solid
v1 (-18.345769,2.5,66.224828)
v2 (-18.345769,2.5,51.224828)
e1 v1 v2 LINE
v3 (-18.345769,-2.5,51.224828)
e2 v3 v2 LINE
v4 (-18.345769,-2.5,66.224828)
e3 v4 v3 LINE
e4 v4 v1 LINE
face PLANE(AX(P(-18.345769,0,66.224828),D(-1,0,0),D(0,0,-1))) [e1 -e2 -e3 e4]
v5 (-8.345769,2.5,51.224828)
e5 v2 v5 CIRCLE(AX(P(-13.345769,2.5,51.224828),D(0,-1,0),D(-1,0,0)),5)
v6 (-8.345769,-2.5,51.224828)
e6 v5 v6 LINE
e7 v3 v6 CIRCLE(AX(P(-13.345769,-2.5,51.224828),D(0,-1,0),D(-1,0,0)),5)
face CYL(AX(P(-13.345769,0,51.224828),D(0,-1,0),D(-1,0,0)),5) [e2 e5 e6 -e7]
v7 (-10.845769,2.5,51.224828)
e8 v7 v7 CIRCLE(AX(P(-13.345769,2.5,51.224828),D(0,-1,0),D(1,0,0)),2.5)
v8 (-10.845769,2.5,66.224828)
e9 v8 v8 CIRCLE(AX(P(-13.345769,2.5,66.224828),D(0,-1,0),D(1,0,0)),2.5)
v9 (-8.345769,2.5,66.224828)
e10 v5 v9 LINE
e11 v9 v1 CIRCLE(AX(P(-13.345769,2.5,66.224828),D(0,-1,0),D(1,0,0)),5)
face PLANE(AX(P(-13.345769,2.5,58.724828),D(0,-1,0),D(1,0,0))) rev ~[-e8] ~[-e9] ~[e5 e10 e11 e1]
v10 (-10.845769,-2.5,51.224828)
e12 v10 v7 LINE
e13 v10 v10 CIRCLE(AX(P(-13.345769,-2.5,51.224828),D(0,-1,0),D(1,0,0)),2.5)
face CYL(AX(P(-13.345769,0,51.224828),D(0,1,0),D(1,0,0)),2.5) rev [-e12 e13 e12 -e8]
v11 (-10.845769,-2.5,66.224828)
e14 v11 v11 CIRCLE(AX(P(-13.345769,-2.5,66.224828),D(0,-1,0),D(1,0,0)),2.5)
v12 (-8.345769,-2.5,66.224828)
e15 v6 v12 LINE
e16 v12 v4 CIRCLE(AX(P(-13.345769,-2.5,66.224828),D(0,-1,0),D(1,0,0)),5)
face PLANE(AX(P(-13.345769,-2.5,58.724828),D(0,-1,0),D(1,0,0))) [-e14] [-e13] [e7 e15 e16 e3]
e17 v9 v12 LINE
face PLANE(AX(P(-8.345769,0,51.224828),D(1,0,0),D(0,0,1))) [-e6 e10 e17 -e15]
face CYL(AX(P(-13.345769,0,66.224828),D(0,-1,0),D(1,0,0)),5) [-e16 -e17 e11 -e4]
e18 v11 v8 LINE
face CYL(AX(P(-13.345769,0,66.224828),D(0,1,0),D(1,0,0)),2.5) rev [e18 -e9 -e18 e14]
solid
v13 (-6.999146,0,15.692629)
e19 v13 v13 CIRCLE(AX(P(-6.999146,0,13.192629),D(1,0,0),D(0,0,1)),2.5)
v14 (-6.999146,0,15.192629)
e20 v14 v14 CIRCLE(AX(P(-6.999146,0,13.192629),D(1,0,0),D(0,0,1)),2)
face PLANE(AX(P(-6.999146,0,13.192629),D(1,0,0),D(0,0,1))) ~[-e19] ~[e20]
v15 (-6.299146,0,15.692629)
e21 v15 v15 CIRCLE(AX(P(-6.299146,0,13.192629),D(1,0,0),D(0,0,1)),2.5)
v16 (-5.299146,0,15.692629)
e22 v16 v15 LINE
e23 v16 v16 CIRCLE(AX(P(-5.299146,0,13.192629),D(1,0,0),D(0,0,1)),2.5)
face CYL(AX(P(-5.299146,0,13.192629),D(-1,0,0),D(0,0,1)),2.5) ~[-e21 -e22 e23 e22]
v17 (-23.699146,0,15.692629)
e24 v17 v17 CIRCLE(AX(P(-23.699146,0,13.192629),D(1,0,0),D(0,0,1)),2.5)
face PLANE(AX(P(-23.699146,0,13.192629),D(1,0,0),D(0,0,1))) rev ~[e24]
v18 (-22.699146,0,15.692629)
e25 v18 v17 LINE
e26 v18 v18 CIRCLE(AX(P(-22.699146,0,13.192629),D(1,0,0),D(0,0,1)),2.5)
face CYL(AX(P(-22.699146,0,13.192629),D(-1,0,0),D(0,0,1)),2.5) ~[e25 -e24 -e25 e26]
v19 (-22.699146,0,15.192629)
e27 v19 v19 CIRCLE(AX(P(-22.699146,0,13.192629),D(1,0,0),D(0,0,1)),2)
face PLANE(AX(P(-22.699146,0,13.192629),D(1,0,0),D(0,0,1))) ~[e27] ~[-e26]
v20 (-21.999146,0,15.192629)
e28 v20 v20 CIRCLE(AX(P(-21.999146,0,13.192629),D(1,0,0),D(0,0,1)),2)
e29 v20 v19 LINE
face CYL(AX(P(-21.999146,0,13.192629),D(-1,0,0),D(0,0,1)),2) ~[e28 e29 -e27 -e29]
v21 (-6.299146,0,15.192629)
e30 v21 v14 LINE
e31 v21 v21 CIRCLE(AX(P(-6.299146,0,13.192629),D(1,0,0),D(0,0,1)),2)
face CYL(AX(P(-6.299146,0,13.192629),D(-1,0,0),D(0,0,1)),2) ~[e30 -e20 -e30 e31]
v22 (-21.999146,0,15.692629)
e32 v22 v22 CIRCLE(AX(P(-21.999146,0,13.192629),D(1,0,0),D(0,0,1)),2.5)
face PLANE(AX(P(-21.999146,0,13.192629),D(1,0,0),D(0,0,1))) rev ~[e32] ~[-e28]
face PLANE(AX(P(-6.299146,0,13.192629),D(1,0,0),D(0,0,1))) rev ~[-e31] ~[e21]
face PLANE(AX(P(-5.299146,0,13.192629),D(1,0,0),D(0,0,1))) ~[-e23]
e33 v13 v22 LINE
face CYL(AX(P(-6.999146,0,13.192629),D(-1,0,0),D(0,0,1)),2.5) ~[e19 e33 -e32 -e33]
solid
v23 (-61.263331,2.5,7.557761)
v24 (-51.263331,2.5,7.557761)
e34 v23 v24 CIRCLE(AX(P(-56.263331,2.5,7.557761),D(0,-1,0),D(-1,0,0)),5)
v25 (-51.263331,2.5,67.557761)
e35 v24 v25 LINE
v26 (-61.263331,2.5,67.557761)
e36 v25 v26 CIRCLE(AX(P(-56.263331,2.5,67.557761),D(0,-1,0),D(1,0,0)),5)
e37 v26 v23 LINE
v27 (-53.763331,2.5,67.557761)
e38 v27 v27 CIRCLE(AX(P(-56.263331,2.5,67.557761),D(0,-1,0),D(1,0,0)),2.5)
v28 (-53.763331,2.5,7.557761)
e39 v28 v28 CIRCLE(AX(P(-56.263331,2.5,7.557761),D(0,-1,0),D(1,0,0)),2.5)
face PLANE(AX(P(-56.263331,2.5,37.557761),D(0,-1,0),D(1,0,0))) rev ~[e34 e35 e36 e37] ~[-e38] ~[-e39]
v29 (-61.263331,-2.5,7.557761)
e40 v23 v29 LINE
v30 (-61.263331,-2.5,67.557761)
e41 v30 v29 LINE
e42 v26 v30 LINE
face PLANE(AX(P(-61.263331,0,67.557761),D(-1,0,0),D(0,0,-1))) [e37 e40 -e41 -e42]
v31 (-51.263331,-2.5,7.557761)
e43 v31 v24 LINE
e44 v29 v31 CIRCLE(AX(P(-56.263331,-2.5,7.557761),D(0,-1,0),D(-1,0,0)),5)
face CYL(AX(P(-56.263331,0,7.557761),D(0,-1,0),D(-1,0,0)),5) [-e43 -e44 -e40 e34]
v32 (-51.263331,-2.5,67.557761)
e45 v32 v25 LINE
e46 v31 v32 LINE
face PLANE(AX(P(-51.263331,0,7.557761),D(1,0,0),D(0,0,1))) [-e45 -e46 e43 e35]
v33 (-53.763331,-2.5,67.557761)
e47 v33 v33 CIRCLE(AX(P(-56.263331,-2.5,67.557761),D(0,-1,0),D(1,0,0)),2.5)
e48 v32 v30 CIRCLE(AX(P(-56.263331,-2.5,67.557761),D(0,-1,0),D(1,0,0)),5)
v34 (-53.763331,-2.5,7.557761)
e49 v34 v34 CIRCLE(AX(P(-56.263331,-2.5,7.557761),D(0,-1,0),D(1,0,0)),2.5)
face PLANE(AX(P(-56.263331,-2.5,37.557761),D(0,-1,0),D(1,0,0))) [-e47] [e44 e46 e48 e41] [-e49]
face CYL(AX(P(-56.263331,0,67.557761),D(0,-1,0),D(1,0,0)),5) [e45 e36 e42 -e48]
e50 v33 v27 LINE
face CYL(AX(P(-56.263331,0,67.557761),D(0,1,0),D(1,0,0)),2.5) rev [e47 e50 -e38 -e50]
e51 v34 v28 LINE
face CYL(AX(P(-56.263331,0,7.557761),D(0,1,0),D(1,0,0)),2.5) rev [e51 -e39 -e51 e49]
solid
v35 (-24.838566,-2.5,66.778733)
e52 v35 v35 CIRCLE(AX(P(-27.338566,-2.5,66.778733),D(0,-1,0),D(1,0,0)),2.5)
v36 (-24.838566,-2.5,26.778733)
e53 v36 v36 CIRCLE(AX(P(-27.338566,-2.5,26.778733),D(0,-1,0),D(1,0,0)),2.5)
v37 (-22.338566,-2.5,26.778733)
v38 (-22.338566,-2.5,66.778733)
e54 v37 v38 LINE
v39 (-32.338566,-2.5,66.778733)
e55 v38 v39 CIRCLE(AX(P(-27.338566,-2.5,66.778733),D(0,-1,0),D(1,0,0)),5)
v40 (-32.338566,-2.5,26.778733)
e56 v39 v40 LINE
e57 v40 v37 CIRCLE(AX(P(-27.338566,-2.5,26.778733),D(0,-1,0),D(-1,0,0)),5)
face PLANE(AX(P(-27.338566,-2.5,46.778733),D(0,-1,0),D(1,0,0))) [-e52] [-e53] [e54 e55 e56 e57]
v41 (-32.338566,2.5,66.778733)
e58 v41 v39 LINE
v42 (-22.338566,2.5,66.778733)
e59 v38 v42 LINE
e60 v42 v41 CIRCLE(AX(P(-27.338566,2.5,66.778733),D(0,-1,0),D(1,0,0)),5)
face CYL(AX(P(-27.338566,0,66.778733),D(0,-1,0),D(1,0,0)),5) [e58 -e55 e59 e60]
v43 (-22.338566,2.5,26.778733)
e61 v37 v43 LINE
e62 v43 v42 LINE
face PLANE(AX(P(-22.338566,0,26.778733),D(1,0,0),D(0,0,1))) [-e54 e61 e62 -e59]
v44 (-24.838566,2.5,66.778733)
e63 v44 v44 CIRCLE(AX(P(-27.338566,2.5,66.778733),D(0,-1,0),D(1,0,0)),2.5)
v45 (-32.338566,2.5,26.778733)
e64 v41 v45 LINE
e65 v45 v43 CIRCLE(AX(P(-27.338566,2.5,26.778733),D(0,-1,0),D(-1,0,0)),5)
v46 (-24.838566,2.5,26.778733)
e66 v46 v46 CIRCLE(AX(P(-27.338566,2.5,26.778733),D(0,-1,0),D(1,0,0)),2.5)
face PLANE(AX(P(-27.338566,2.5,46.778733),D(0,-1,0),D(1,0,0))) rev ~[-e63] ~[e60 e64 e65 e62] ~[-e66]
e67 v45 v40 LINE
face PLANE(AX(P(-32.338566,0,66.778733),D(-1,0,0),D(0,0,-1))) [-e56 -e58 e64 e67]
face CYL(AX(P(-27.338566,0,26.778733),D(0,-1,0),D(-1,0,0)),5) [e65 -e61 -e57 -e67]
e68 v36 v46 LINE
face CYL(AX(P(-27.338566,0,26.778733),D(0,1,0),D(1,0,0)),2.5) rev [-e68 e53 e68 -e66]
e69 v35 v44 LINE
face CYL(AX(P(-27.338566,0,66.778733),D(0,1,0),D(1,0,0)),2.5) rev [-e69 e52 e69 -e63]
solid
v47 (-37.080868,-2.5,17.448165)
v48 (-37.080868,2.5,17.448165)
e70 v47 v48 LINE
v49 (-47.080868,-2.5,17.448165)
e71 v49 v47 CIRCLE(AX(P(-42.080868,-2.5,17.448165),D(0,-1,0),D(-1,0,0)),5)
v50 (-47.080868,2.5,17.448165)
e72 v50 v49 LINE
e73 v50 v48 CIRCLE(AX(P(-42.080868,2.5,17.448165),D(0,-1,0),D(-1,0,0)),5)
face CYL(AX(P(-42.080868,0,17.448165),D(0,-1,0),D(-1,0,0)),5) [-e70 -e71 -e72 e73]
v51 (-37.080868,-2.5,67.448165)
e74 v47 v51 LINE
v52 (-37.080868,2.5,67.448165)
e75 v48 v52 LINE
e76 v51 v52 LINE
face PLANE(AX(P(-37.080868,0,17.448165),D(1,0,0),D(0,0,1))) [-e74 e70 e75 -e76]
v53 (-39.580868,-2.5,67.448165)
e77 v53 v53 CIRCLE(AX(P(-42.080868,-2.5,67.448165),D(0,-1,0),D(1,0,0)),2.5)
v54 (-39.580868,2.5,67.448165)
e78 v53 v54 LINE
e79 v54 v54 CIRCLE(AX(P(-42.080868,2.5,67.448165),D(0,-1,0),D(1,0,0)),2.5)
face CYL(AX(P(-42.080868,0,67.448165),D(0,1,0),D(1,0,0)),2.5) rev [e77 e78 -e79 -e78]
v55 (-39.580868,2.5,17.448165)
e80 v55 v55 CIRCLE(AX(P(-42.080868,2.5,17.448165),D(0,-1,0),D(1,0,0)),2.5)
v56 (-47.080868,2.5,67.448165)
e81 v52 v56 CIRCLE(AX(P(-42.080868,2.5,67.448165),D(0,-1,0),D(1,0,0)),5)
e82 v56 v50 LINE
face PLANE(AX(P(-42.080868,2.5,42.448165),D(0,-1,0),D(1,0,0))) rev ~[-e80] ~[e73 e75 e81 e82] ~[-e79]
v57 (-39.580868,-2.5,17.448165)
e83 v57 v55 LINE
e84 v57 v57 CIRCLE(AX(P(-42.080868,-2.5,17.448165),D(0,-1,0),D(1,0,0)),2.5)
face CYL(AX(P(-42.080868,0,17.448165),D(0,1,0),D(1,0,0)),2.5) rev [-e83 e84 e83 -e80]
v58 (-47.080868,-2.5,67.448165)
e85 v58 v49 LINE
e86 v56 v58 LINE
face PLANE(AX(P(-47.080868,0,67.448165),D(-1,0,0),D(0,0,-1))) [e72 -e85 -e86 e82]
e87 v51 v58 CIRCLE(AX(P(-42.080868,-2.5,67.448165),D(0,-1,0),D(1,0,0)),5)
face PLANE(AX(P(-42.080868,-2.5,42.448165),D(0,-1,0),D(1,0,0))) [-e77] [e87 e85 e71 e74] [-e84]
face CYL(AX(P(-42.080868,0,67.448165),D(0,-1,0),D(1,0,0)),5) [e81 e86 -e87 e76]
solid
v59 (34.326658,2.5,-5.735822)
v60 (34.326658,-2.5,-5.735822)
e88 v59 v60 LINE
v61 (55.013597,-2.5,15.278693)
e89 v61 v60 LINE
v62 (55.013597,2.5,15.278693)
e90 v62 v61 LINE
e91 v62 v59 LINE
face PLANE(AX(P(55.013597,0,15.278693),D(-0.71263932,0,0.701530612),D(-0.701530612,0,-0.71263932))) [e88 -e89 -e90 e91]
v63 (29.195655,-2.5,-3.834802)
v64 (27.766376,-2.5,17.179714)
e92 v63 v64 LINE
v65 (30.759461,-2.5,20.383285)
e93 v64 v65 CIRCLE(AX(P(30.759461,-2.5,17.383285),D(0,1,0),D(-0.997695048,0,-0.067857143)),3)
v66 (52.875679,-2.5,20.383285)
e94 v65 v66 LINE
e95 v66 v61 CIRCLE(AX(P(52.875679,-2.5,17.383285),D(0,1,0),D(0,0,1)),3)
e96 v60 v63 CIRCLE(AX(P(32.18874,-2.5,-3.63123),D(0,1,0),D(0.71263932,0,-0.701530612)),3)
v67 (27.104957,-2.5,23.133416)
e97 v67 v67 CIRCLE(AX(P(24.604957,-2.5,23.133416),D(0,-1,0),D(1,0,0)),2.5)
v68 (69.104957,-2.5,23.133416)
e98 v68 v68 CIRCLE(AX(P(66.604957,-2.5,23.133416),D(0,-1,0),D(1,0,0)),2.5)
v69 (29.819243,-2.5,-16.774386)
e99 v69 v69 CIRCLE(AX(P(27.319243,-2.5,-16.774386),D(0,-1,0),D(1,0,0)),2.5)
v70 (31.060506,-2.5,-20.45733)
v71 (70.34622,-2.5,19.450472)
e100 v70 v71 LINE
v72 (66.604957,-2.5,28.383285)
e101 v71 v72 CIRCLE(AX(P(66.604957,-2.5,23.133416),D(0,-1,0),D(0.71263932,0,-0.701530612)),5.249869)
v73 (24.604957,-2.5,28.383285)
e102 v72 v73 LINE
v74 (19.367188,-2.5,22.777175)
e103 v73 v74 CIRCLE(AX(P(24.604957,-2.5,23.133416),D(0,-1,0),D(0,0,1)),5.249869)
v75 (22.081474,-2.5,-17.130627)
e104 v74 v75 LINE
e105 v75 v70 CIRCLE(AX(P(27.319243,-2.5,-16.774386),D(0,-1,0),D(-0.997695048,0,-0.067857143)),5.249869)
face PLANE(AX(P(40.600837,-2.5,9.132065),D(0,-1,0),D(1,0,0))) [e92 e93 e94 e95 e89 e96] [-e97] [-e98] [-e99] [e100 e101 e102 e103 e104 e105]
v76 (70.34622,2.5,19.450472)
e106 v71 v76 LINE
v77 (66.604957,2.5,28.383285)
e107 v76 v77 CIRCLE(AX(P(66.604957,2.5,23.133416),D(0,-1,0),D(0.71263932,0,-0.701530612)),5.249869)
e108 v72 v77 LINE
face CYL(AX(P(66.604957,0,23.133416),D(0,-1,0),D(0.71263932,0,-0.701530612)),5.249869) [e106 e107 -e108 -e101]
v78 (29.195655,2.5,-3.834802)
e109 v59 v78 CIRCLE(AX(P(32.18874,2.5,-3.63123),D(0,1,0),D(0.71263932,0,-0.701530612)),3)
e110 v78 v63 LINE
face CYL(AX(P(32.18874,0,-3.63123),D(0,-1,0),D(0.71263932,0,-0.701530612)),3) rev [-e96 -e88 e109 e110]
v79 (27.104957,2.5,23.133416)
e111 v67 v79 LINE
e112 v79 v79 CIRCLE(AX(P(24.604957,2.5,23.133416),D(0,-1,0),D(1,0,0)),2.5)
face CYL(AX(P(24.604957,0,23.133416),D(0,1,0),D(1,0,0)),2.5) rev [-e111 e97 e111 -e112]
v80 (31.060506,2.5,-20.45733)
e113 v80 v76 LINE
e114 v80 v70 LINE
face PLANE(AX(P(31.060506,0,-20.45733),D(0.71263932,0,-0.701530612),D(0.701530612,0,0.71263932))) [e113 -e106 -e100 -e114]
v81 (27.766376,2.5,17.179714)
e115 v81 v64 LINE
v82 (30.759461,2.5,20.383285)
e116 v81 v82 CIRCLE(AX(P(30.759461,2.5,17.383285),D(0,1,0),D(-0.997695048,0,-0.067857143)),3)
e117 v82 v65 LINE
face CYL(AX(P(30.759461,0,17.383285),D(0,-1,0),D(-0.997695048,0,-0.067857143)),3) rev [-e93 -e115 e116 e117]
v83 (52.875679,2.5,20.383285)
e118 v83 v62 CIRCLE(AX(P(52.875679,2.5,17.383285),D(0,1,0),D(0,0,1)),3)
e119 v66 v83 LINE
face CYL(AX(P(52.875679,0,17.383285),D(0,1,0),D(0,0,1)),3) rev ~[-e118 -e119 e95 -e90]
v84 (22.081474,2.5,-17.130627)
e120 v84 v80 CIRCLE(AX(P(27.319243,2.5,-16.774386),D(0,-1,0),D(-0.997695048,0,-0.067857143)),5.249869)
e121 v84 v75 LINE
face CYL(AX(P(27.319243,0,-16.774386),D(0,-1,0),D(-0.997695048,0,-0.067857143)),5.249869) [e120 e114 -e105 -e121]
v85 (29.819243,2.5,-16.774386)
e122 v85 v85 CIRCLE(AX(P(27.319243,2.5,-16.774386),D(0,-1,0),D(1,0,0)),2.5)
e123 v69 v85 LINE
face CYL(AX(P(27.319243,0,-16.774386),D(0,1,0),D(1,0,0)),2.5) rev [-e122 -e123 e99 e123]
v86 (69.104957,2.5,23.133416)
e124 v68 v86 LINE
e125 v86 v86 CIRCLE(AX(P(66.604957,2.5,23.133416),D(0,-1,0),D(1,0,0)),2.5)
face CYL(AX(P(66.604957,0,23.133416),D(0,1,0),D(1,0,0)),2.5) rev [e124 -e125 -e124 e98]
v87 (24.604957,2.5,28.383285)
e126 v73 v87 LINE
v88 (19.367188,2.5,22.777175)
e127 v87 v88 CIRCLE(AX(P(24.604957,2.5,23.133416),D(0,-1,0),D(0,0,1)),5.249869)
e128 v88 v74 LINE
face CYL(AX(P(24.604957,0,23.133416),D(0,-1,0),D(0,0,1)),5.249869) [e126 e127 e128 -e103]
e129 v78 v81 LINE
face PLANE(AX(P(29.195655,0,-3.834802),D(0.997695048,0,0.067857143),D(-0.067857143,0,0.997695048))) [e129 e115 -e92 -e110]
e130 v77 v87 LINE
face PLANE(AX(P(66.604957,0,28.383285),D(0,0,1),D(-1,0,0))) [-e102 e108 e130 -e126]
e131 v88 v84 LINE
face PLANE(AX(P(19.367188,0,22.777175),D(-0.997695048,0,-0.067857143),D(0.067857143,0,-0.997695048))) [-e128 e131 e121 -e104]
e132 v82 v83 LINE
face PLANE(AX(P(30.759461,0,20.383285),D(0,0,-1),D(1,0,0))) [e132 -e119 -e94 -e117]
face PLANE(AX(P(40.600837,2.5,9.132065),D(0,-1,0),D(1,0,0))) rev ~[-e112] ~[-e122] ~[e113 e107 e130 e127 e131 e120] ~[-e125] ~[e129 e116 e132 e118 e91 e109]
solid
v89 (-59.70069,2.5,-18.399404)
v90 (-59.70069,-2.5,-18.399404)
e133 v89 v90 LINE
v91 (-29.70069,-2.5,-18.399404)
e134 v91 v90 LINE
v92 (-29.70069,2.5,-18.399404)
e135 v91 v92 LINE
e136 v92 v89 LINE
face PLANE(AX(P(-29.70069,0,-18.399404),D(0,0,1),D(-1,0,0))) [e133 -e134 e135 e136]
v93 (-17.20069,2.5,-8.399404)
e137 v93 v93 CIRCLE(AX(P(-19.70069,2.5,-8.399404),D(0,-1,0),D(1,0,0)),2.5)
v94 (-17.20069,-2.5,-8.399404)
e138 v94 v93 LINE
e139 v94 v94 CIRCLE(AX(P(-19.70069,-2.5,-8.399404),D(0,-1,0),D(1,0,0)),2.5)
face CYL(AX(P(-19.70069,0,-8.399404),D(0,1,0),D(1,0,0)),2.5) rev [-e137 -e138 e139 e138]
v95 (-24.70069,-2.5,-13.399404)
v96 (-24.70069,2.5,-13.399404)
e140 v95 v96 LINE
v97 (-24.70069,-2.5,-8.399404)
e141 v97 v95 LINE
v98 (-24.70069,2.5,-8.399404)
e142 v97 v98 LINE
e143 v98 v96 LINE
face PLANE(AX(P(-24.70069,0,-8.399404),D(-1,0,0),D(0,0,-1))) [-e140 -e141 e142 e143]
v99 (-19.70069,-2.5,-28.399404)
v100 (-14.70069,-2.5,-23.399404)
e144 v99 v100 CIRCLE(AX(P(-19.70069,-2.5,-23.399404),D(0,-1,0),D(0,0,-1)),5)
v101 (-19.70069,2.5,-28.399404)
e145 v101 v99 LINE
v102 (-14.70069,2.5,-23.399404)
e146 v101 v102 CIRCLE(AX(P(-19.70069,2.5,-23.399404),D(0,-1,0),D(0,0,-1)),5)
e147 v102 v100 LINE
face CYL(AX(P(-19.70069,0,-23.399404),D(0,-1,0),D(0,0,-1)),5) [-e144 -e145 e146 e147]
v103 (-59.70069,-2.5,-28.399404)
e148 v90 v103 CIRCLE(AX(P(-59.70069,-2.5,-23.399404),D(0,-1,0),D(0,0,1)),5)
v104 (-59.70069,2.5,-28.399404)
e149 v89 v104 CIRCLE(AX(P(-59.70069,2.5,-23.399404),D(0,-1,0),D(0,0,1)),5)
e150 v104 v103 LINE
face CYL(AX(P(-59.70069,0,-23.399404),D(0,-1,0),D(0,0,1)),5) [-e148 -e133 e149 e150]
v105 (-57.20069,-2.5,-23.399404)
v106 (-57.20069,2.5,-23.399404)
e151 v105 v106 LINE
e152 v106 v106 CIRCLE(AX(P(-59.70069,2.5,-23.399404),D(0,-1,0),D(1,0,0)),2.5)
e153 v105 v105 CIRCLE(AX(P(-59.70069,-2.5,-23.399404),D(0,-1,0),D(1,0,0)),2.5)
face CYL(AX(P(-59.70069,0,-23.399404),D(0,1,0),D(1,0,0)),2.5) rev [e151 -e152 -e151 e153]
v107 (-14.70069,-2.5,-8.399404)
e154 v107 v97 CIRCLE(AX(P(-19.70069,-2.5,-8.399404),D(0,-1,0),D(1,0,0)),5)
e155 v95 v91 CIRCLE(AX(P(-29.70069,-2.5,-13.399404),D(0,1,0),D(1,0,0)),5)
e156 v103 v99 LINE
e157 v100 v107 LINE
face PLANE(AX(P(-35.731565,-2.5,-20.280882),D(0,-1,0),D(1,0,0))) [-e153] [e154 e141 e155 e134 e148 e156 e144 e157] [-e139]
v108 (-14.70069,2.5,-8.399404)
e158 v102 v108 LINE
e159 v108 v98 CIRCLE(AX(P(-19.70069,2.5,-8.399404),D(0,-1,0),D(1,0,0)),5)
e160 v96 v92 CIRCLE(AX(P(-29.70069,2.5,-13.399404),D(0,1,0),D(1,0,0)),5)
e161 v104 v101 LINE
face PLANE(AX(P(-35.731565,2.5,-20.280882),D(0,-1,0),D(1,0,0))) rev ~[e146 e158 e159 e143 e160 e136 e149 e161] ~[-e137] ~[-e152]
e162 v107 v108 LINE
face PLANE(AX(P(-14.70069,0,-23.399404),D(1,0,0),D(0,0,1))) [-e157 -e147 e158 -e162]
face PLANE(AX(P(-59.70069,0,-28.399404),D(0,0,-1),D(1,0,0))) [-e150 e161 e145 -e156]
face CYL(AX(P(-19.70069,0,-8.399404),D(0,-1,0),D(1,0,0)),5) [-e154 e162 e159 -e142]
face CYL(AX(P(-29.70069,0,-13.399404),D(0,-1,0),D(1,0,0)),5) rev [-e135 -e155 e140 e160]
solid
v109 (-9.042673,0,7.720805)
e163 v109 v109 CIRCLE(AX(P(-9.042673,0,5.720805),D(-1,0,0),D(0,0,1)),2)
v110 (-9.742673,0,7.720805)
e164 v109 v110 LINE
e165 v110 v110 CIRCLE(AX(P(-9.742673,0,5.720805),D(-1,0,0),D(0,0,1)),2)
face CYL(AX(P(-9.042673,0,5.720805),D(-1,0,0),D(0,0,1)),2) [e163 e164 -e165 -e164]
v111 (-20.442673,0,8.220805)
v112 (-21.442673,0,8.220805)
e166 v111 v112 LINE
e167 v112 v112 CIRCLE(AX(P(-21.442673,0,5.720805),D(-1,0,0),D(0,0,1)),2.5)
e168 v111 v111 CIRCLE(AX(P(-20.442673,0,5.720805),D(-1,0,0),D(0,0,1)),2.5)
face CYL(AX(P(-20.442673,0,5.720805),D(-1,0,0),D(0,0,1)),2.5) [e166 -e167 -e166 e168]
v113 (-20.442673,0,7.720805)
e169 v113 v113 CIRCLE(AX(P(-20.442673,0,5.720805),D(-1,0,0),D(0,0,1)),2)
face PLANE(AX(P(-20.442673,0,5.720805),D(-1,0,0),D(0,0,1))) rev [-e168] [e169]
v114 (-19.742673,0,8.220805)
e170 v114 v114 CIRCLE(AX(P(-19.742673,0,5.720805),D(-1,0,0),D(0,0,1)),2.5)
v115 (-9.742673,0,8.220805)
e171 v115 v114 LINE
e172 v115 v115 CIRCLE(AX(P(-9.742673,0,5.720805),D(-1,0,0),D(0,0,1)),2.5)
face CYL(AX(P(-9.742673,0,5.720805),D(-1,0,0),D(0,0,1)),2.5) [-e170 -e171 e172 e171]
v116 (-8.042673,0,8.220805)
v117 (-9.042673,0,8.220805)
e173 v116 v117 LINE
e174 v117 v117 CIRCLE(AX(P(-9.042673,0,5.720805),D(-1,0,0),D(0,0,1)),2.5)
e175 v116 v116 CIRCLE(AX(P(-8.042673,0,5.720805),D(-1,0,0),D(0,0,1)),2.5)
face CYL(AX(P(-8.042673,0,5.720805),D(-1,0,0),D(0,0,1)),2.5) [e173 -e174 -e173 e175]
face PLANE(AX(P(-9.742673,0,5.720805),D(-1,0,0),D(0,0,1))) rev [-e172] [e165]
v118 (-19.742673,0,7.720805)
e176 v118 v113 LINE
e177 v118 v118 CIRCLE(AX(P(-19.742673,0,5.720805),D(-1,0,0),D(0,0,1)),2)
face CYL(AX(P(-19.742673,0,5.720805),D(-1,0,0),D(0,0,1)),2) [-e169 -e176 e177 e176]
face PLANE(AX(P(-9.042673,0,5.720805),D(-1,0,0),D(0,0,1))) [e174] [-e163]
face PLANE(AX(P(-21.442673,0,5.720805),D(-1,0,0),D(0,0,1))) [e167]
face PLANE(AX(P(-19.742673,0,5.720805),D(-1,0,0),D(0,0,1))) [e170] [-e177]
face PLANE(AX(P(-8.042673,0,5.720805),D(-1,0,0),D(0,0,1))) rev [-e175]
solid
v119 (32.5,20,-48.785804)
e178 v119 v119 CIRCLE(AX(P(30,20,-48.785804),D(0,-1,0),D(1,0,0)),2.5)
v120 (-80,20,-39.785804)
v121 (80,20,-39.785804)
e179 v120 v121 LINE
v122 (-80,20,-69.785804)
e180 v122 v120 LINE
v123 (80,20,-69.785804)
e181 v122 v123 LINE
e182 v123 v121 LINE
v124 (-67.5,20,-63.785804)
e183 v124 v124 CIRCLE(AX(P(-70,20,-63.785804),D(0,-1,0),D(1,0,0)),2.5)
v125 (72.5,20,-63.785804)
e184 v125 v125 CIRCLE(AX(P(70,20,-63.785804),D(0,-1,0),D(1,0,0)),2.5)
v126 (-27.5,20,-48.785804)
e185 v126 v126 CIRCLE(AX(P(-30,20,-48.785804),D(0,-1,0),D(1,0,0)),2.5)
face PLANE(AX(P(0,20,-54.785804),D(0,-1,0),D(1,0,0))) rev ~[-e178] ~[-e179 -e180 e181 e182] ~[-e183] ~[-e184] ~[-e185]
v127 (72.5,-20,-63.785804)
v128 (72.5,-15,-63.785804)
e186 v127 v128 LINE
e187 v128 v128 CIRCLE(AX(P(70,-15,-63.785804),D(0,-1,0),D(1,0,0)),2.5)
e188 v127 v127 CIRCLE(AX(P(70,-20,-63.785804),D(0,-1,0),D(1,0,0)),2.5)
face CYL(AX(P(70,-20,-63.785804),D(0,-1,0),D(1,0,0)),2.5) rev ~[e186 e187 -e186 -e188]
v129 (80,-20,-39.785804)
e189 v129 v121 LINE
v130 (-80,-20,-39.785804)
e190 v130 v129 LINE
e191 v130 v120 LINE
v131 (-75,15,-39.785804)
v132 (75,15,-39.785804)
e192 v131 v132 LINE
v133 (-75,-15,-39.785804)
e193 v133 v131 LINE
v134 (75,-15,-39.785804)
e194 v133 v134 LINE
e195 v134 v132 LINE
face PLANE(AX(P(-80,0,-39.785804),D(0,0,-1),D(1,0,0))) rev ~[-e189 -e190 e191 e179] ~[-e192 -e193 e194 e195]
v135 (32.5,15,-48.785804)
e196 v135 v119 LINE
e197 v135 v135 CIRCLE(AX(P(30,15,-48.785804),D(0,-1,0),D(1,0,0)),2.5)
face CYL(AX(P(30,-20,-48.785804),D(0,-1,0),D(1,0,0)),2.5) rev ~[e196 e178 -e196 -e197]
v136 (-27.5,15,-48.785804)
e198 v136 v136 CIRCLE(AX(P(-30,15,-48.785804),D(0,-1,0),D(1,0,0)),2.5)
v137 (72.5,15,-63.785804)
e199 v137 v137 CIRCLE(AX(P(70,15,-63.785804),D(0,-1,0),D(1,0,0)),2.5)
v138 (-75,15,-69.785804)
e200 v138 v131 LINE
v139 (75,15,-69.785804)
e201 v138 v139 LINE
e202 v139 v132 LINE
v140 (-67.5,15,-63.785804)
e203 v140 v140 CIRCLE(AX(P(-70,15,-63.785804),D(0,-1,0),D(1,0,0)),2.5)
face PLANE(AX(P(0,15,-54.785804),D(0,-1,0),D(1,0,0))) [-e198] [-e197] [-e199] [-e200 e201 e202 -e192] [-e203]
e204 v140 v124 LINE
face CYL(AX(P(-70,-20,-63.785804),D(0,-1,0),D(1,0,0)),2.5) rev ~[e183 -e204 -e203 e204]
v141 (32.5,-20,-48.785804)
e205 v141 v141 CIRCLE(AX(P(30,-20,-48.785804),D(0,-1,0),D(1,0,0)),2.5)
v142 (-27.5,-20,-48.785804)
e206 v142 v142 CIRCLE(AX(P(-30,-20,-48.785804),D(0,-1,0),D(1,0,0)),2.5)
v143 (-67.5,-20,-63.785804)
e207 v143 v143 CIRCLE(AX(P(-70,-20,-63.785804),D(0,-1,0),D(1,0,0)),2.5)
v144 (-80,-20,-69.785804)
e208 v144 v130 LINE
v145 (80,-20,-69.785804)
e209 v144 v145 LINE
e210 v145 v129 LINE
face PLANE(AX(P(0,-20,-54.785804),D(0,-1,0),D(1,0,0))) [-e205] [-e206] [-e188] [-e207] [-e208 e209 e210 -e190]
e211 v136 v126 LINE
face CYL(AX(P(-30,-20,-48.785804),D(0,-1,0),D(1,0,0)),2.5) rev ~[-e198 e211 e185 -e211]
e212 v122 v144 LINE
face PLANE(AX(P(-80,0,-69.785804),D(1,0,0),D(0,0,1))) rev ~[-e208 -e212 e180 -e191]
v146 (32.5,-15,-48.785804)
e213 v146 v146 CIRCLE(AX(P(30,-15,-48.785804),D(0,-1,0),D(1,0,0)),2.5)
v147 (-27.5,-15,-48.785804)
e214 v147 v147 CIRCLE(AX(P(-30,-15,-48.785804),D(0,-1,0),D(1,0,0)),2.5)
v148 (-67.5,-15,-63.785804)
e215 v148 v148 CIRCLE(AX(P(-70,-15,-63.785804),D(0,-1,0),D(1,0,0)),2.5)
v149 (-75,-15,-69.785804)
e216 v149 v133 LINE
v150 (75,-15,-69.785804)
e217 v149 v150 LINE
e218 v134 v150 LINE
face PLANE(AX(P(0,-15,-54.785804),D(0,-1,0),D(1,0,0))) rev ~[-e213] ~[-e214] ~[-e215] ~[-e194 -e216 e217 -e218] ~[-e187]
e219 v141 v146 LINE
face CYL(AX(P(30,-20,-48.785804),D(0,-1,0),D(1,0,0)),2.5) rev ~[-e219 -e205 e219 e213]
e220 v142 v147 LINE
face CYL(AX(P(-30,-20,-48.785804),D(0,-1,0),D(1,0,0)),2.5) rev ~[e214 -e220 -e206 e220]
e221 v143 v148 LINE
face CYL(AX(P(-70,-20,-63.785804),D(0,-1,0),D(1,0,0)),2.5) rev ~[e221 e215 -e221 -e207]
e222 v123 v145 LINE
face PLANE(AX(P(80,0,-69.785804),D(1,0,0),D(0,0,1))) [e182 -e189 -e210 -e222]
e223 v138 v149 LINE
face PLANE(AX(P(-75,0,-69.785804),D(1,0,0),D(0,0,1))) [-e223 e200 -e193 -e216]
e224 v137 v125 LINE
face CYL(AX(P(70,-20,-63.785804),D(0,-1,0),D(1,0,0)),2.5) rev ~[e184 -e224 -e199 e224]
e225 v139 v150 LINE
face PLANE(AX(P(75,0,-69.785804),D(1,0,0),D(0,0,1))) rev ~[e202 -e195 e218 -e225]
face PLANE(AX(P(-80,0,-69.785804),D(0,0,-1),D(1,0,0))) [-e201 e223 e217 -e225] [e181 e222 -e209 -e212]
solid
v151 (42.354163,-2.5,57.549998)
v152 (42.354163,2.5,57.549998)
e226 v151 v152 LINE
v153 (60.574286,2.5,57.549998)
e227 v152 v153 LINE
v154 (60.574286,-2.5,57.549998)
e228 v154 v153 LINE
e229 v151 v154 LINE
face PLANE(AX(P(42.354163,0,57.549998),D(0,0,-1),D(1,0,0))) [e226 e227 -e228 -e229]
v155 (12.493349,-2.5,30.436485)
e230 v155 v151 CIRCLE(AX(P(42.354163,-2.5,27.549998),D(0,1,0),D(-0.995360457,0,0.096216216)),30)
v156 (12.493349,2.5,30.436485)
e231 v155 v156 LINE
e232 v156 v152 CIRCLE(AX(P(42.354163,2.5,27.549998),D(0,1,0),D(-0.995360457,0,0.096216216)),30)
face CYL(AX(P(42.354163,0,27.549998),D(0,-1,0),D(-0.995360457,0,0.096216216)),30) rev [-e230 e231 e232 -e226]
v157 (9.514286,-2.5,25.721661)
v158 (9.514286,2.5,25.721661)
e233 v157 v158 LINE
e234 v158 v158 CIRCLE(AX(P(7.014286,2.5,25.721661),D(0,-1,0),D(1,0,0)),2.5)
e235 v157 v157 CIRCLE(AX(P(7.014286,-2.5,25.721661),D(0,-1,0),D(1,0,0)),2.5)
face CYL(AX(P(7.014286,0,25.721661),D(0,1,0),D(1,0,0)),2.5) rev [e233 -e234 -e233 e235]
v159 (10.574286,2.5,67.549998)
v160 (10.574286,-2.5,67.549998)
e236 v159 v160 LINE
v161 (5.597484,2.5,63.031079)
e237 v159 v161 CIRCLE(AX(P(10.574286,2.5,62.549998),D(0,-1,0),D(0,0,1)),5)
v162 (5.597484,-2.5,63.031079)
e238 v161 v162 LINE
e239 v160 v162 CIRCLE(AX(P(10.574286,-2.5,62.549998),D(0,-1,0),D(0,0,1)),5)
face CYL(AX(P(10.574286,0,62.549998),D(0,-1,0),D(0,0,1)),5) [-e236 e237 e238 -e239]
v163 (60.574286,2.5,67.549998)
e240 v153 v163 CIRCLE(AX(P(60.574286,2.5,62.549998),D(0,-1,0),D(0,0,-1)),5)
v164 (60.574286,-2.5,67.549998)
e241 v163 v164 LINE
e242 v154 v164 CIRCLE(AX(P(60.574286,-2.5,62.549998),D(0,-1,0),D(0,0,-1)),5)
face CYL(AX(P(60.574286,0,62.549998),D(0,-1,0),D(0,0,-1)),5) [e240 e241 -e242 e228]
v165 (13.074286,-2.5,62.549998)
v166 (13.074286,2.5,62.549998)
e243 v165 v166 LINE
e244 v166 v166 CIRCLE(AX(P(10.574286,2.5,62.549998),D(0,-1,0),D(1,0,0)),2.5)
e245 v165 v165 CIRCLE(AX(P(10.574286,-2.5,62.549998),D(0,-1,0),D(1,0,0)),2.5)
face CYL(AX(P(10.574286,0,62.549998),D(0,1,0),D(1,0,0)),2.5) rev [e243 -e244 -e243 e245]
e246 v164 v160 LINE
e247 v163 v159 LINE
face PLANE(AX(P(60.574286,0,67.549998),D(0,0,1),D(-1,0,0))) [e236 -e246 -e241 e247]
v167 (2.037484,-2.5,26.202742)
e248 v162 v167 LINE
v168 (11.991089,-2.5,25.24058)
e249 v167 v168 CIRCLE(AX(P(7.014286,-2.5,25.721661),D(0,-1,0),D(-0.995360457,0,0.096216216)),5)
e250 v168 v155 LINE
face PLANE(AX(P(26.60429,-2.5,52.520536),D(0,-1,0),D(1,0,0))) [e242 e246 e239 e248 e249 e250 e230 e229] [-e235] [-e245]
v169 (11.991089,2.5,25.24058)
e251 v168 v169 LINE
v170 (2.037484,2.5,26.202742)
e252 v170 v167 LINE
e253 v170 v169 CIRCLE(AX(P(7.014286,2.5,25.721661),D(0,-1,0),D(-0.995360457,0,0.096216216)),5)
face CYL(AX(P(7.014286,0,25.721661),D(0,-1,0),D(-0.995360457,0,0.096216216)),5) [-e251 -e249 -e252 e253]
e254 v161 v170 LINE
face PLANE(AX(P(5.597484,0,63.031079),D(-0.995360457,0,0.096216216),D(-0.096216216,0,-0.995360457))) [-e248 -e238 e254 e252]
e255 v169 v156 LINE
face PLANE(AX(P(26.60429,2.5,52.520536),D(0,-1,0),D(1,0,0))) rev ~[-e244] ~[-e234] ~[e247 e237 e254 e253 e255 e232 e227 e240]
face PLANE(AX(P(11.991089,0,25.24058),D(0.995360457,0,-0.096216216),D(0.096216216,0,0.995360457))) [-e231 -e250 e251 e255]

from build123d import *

# Parameters (mm, degrees)
F2_R      = 2.5
F3_DEPTH  = 2.5
F4_R      = 2.5
F5_DEPTH  = 2.5
F6_R      = 2.5
F7_DEPTH  = 2.5
F8_R      = 2.5
F9_DEPTH  = 2.5
F10_R     = 2.5
F11_DEPTH = 2.5
F12_R     = 2.5
F13_DEPTH = 2.5
F18_R     = 2.5
F19_DEPTH = 2.5
F20_W     = 160
F20_H     = 30
F21_DEPTH = 20
F22_T     = -5
F23_R     = 2.5
F24_DEPTH = 40


with BuildPart() as f3:
    # F2 (on Front) → F3 (new body, symmetric)
    with BuildSketch(Plane.XZ):
        with BuildLine():
            ThreePointArc((-18.3457694519, 51.2248277664), (-13.3457694519, 46.2248277664), (-8.3457694519, 51.2248277664))
            Line((-8.3457694519, 51.2248277664), (-8.3457694519, 66.2248277664))
            ThreePointArc((-8.3457694519, 66.2248277664), (-13.3457694519, 71.2248277664), (-18.3457694519, 66.2248277664))
            Line((-18.3457694519, 66.2248277664), (-18.3457694519, 51.2248277664))
        make_face()
        with Locations((-13.3457694519, 51.2248277664)):
            Circle(F2_R, mode=Mode.SUBTRACT)
        with Locations((-13.3457694519, 66.2248277664)):
            Circle(F2_R, mode=Mode.SUBTRACT)
    extrude(amount=F3_DEPTH, both=True)


with BuildPart() as f5:
    # F4 (on Front) → F5 (new body, symmetric)
    with BuildSketch(Plane.XZ):
        with BuildLine():
            ThreePointArc((-22.3385662585, 66.7787333578), (-27.3385662585, 71.7787333578), (-32.3385662585, 66.7787333578))
            Line((-32.3385662585, 66.7787333578), (-32.3385662585, 26.7787333578))
            ThreePointArc((-32.3385662585, 26.7787333578), (-27.3385662585, 21.7787333578), (-22.3385662585, 26.7787333578))
            Line((-22.3385662585, 26.7787333578), (-22.3385662585, 66.7787333578))
        make_face()
        with Locations((-27.3385662585, 26.7787333578)):
            Circle(F4_R, mode=Mode.SUBTRACT)
        with Locations((-27.3385662585, 66.7787333578)):
            Circle(F4_R, mode=Mode.SUBTRACT)
    extrude(amount=F5_DEPTH, both=True)


with BuildPart() as f7:
    # F6 (on Front) → F7 (new body, symmetric)
    with BuildSketch(Plane.XZ):
        with BuildLine():
            ThreePointArc((-37.0808680356, 67.4481645226), (-42.0808680356, 72.4481645226), (-47.0808680356, 67.4481645226))
            Line((-47.0808680356, 67.4481645226), (-47.0808680356, 17.4481645226))
            ThreePointArc((-47.0808680356, 17.4481645226), (-42.0808680356, 12.4481645226), (-37.0808680356, 17.4481645226))
            Line((-37.0808680356, 17.4481645226), (-37.0808680356, 67.4481645226))
        make_face()
        with Locations((-42.0808680356, 17.4481645226)):
            Circle(F6_R, mode=Mode.SUBTRACT)
        with Locations((-42.0808680356, 67.4481645226)):
            Circle(F6_R, mode=Mode.SUBTRACT)
    extrude(amount=F7_DEPTH, both=True)


with BuildPart() as f9:
    # F8 (on Front) → F9 (new body, symmetric)
    with BuildSketch(Plane.XZ):
        with BuildLine():
            ThreePointArc((-51.2633313239, 67.5577609241), (-56.2633313239, 72.5577609241), (-61.2633313239, 67.5577609241))
            Line((-61.2633313239, 67.5577609241), (-61.2633313239, 7.5577609241))
            ThreePointArc((-61.2633313239, 7.5577609241), (-56.2633313239, 2.5577609241), (-51.2633313239, 7.5577609241))
            Line((-51.2633313239, 7.5577609241), (-51.2633313239, 67.5577609241))
        make_face()
        with Locations((-56.2633313239, 7.5577609241)):
            Circle(F8_R, mode=Mode.SUBTRACT)
        with Locations((-56.2633313239, 67.5577609241)):
            Circle(F8_R, mode=Mode.SUBTRACT)
    extrude(amount=F9_DEPTH, both=True)


with BuildPart() as f11:
    # F10 (on Front) → F11 (new body, symmetric)
    with BuildSketch(Plane.XZ):
        with BuildLine():
            ThreePointArc((60.5742862523, 57.5499981642), (65.5742862523, 62.5499981642), (60.5742862523, 67.5499981642))
            Line((60.5742862523, 67.5499981642), (10.5742862523, 67.5499981642))
            ThreePointArc((10.5742862523, 67.5499981642), (7.2131410164, 66.2517143476), (5.5974839664, 63.0310792453))
            Line((5.5974839664, 63.0310792453), (2.0374839664, 26.2027423292))
            ThreePointArc((2.0374839664, 26.2027423292), (6.5332051713, 20.7448589622), (11.9910885383, 25.2405801671))
            Line((11.9910885383, 25.2405801671), (12.4933490667, 30.4364846507))
            ThreePointArc((12.4933490667, 30.4364846507), (22.1872913666, 49.7602952648), (42.3541627824, 57.5499981642))
            Line((42.3541627824, 57.5499981642), (60.5742862523, 57.5499981642))
        make_face()
        with Locations((7.0142862523, 25.7216612482)):
            Circle(F10_R, mode=Mode.SUBTRACT)
        with Locations((10.5742862523, 62.5499981642)):
            Circle(F10_R, mode=Mode.SUBTRACT)
    extrude(amount=F11_DEPTH, both=True)


with BuildPart() as f13:
    # F12 (on Front) → F13 (new body, symmetric)
    with BuildSketch(Plane.XZ):
        with BuildLine():
            ThreePointArc((24.6049569845, 28.3832850517), (20.7688556237, 26.7174712888), (19.3671883601, 22.7771745962))
            Line((19.3671883601, 22.7771745962), (22.0814740744, -17.130627311))
            ThreePointArc((22.0814740744, -17.130627311), (25.4953402609, -21.6972418338), (31.060506002, -20.4573302187))
            Line((31.060506002, -20.4573302187), (70.3462202877, 19.4504716885))
            ThreePointArc((70.3462202877, 19.4504716885), (71.4472757908, 25.1614878395), (66.6049569845, 28.3832850517))
            Line((66.6049569845, 28.3832850517), (24.6049569845, 28.3832850517))
        make_face()
        with Locations((27.3192426988, -16.7743861784)):
            Circle(F12_R, mode=Mode.SUBTRACT)
        with BuildLine():
            ThreePointArc((27.7663757955, 17.1797136232), (28.5673484545, 19.4313677789), (30.7594609386, 20.3832850517))
            Line((30.7594609386, 20.3832850517), (52.8756789332, 20.3832850517))
            ThreePointArc((52.8756789332, 20.3832850517), (55.6427871268, 18.5422122474), (55.0135968925, 15.278693215))
            Line((55.0135968925, 15.278693215), (34.3266582921, -5.7358221818))
            ThreePointArc((34.3266582921, -5.7358221818), (31.1464844256, -6.4443607409), (29.1956551897, -3.8348017736))
            Line((29.1956551897, -3.8348017736), (27.7663757955, 17.1797136232))
        make_face(mode=Mode.SUBTRACT)
        with Locations((24.6049569845, 23.1334157288)):
            Circle(F12_R, mode=Mode.SUBTRACT)
        with Locations((66.6049569845, 23.1334157288)):
            Circle(F12_R, mode=Mode.SUBTRACT)
    extrude(amount=F13_DEPTH, both=True)


with BuildPart() as f15:
    # F14 (on Front) → F15 (revolve)
    with BuildSketch(Plane.XZ):
        Polygon((-21.442672649, 8.2208053768), (-21.442672649, 5.7208053768), (-8.042672649, 5.7208053768), (-8.042672649, 8.2208053768), (-9.042672649, 8.2208053768), (-9.042672649, 7.7208053768), (-9.742672649, 7.7208053768), (-9.742672649, 8.2208053768), (-19.742672649, 8.2208053768), (-19.742672649, 7.7208053768), (-20.442672649, 7.7208053768), (-20.442672649, 8.2208053768), align=None)
    revolve(axis=Axis((-14.742672649, 0, 5.7208053768), (-1, 0, 0)))


with BuildPart() as f17:
    # F16 (on Front) → F17 (revolve)
    with BuildSketch(Plane.XZ):
        Polygon((-22.6991458215, 15.6926294416), (-23.6991458215, 15.6926294416), (-23.6991458215, 13.1926294416), (-5.2991458215, 13.1926294416), (-5.2991458215, 15.6926294416), (-6.2991458215, 15.6926294416), (-6.2991458215, 15.1926294416), (-6.9991458215, 15.1926294416), (-6.9991458215, 15.6926294416), (-21.9991458215, 15.6926294416), (-21.9991458215, 15.1926294416), (-22.6991458215, 15.1926294416), align=None)
    revolve(axis=Axis((-14.4991458215, 0, 13.1926294416), (1, 0, 0)))


with BuildPart() as f19:
    # F18 (on Front) → F19 (new body, symmetric)
    with BuildSketch(Plane.XZ):
        with BuildLine():
            Line((-29.7006900609, -18.3994043618), (-59.7006900609, -18.3994043618))
            ThreePointArc((-59.7006900609, -18.3994043618), (-64.7006900609, -23.3994043618), (-59.7006900609, -28.3994043618))
            Line((-59.7006900609, -28.3994043618), (-19.7006900609, -28.3994043618))
            ThreePointArc((-19.7006900609, -28.3994043618), (-16.1651561549, -26.9349382678), (-14.7006900609, -23.3994043618))
            Line((-14.7006900609, -23.3994043618), (-14.7006900609, -8.3994043618))
            ThreePointArc((-14.7006900609, -8.3994043618), (-19.7006900609, -3.3994043618), (-24.7006900609, -8.3994043618))
            Line((-24.7006900609, -8.3994043618), (-24.7006900609, -13.3994043618))
            ThreePointArc((-24.7006900609, -13.3994043618), (-26.1651561549, -16.9349382678), (-29.7006900609, -18.3994043618))
        make_face()
        with Locations((-59.7006900609, -23.3994043618)):
            Circle(F18_R, mode=Mode.SUBTRACT)
        with Locations((-19.7006900609, -8.3994043618)):
            Circle(F18_R, mode=Mode.SUBTRACT)
    extrude(amount=F19_DEPTH, both=True)


with BuildPart() as f21:
    # F20 (on Front) → F21 (new body, symmetric)
    with BuildSketch(Plane.XZ):
        with Locations((0, -54.7858035564)):
            Rectangle(F20_W, F20_H)
    extrude(amount=F21_DEPTH, both=True)

    # F22
    f22_openings = [f21.faces().sort_by_distance(p)[0] for p in [
        (0, 0, -39.785804),
        (0, 0, -69.785804),
    ]]
    offset(amount=F22_T, openings=f22_openings)

    # F23 (on face) → F24 (cut, through all)
    with BuildSketch(Plane.XZ.offset(20)):
        with Locations((-70, -63.7858035564)):
            Circle(F23_R)
        with Locations((-30, -48.7858035564)):
            Circle(F23_R)
        with Locations((30, -48.7858035564)):
            Circle(F23_R)
        with Locations((70, -63.7858035564)):
            Circle(F23_R)
    extrude(amount=-F24_DEPTH, mode=Mode.SUBTRACT)


solid = Compound([f3.part, f5.part, f7.part, f9.part, f11.part, f13.part, f15.part, f17.part, f19.part, f21.part])
